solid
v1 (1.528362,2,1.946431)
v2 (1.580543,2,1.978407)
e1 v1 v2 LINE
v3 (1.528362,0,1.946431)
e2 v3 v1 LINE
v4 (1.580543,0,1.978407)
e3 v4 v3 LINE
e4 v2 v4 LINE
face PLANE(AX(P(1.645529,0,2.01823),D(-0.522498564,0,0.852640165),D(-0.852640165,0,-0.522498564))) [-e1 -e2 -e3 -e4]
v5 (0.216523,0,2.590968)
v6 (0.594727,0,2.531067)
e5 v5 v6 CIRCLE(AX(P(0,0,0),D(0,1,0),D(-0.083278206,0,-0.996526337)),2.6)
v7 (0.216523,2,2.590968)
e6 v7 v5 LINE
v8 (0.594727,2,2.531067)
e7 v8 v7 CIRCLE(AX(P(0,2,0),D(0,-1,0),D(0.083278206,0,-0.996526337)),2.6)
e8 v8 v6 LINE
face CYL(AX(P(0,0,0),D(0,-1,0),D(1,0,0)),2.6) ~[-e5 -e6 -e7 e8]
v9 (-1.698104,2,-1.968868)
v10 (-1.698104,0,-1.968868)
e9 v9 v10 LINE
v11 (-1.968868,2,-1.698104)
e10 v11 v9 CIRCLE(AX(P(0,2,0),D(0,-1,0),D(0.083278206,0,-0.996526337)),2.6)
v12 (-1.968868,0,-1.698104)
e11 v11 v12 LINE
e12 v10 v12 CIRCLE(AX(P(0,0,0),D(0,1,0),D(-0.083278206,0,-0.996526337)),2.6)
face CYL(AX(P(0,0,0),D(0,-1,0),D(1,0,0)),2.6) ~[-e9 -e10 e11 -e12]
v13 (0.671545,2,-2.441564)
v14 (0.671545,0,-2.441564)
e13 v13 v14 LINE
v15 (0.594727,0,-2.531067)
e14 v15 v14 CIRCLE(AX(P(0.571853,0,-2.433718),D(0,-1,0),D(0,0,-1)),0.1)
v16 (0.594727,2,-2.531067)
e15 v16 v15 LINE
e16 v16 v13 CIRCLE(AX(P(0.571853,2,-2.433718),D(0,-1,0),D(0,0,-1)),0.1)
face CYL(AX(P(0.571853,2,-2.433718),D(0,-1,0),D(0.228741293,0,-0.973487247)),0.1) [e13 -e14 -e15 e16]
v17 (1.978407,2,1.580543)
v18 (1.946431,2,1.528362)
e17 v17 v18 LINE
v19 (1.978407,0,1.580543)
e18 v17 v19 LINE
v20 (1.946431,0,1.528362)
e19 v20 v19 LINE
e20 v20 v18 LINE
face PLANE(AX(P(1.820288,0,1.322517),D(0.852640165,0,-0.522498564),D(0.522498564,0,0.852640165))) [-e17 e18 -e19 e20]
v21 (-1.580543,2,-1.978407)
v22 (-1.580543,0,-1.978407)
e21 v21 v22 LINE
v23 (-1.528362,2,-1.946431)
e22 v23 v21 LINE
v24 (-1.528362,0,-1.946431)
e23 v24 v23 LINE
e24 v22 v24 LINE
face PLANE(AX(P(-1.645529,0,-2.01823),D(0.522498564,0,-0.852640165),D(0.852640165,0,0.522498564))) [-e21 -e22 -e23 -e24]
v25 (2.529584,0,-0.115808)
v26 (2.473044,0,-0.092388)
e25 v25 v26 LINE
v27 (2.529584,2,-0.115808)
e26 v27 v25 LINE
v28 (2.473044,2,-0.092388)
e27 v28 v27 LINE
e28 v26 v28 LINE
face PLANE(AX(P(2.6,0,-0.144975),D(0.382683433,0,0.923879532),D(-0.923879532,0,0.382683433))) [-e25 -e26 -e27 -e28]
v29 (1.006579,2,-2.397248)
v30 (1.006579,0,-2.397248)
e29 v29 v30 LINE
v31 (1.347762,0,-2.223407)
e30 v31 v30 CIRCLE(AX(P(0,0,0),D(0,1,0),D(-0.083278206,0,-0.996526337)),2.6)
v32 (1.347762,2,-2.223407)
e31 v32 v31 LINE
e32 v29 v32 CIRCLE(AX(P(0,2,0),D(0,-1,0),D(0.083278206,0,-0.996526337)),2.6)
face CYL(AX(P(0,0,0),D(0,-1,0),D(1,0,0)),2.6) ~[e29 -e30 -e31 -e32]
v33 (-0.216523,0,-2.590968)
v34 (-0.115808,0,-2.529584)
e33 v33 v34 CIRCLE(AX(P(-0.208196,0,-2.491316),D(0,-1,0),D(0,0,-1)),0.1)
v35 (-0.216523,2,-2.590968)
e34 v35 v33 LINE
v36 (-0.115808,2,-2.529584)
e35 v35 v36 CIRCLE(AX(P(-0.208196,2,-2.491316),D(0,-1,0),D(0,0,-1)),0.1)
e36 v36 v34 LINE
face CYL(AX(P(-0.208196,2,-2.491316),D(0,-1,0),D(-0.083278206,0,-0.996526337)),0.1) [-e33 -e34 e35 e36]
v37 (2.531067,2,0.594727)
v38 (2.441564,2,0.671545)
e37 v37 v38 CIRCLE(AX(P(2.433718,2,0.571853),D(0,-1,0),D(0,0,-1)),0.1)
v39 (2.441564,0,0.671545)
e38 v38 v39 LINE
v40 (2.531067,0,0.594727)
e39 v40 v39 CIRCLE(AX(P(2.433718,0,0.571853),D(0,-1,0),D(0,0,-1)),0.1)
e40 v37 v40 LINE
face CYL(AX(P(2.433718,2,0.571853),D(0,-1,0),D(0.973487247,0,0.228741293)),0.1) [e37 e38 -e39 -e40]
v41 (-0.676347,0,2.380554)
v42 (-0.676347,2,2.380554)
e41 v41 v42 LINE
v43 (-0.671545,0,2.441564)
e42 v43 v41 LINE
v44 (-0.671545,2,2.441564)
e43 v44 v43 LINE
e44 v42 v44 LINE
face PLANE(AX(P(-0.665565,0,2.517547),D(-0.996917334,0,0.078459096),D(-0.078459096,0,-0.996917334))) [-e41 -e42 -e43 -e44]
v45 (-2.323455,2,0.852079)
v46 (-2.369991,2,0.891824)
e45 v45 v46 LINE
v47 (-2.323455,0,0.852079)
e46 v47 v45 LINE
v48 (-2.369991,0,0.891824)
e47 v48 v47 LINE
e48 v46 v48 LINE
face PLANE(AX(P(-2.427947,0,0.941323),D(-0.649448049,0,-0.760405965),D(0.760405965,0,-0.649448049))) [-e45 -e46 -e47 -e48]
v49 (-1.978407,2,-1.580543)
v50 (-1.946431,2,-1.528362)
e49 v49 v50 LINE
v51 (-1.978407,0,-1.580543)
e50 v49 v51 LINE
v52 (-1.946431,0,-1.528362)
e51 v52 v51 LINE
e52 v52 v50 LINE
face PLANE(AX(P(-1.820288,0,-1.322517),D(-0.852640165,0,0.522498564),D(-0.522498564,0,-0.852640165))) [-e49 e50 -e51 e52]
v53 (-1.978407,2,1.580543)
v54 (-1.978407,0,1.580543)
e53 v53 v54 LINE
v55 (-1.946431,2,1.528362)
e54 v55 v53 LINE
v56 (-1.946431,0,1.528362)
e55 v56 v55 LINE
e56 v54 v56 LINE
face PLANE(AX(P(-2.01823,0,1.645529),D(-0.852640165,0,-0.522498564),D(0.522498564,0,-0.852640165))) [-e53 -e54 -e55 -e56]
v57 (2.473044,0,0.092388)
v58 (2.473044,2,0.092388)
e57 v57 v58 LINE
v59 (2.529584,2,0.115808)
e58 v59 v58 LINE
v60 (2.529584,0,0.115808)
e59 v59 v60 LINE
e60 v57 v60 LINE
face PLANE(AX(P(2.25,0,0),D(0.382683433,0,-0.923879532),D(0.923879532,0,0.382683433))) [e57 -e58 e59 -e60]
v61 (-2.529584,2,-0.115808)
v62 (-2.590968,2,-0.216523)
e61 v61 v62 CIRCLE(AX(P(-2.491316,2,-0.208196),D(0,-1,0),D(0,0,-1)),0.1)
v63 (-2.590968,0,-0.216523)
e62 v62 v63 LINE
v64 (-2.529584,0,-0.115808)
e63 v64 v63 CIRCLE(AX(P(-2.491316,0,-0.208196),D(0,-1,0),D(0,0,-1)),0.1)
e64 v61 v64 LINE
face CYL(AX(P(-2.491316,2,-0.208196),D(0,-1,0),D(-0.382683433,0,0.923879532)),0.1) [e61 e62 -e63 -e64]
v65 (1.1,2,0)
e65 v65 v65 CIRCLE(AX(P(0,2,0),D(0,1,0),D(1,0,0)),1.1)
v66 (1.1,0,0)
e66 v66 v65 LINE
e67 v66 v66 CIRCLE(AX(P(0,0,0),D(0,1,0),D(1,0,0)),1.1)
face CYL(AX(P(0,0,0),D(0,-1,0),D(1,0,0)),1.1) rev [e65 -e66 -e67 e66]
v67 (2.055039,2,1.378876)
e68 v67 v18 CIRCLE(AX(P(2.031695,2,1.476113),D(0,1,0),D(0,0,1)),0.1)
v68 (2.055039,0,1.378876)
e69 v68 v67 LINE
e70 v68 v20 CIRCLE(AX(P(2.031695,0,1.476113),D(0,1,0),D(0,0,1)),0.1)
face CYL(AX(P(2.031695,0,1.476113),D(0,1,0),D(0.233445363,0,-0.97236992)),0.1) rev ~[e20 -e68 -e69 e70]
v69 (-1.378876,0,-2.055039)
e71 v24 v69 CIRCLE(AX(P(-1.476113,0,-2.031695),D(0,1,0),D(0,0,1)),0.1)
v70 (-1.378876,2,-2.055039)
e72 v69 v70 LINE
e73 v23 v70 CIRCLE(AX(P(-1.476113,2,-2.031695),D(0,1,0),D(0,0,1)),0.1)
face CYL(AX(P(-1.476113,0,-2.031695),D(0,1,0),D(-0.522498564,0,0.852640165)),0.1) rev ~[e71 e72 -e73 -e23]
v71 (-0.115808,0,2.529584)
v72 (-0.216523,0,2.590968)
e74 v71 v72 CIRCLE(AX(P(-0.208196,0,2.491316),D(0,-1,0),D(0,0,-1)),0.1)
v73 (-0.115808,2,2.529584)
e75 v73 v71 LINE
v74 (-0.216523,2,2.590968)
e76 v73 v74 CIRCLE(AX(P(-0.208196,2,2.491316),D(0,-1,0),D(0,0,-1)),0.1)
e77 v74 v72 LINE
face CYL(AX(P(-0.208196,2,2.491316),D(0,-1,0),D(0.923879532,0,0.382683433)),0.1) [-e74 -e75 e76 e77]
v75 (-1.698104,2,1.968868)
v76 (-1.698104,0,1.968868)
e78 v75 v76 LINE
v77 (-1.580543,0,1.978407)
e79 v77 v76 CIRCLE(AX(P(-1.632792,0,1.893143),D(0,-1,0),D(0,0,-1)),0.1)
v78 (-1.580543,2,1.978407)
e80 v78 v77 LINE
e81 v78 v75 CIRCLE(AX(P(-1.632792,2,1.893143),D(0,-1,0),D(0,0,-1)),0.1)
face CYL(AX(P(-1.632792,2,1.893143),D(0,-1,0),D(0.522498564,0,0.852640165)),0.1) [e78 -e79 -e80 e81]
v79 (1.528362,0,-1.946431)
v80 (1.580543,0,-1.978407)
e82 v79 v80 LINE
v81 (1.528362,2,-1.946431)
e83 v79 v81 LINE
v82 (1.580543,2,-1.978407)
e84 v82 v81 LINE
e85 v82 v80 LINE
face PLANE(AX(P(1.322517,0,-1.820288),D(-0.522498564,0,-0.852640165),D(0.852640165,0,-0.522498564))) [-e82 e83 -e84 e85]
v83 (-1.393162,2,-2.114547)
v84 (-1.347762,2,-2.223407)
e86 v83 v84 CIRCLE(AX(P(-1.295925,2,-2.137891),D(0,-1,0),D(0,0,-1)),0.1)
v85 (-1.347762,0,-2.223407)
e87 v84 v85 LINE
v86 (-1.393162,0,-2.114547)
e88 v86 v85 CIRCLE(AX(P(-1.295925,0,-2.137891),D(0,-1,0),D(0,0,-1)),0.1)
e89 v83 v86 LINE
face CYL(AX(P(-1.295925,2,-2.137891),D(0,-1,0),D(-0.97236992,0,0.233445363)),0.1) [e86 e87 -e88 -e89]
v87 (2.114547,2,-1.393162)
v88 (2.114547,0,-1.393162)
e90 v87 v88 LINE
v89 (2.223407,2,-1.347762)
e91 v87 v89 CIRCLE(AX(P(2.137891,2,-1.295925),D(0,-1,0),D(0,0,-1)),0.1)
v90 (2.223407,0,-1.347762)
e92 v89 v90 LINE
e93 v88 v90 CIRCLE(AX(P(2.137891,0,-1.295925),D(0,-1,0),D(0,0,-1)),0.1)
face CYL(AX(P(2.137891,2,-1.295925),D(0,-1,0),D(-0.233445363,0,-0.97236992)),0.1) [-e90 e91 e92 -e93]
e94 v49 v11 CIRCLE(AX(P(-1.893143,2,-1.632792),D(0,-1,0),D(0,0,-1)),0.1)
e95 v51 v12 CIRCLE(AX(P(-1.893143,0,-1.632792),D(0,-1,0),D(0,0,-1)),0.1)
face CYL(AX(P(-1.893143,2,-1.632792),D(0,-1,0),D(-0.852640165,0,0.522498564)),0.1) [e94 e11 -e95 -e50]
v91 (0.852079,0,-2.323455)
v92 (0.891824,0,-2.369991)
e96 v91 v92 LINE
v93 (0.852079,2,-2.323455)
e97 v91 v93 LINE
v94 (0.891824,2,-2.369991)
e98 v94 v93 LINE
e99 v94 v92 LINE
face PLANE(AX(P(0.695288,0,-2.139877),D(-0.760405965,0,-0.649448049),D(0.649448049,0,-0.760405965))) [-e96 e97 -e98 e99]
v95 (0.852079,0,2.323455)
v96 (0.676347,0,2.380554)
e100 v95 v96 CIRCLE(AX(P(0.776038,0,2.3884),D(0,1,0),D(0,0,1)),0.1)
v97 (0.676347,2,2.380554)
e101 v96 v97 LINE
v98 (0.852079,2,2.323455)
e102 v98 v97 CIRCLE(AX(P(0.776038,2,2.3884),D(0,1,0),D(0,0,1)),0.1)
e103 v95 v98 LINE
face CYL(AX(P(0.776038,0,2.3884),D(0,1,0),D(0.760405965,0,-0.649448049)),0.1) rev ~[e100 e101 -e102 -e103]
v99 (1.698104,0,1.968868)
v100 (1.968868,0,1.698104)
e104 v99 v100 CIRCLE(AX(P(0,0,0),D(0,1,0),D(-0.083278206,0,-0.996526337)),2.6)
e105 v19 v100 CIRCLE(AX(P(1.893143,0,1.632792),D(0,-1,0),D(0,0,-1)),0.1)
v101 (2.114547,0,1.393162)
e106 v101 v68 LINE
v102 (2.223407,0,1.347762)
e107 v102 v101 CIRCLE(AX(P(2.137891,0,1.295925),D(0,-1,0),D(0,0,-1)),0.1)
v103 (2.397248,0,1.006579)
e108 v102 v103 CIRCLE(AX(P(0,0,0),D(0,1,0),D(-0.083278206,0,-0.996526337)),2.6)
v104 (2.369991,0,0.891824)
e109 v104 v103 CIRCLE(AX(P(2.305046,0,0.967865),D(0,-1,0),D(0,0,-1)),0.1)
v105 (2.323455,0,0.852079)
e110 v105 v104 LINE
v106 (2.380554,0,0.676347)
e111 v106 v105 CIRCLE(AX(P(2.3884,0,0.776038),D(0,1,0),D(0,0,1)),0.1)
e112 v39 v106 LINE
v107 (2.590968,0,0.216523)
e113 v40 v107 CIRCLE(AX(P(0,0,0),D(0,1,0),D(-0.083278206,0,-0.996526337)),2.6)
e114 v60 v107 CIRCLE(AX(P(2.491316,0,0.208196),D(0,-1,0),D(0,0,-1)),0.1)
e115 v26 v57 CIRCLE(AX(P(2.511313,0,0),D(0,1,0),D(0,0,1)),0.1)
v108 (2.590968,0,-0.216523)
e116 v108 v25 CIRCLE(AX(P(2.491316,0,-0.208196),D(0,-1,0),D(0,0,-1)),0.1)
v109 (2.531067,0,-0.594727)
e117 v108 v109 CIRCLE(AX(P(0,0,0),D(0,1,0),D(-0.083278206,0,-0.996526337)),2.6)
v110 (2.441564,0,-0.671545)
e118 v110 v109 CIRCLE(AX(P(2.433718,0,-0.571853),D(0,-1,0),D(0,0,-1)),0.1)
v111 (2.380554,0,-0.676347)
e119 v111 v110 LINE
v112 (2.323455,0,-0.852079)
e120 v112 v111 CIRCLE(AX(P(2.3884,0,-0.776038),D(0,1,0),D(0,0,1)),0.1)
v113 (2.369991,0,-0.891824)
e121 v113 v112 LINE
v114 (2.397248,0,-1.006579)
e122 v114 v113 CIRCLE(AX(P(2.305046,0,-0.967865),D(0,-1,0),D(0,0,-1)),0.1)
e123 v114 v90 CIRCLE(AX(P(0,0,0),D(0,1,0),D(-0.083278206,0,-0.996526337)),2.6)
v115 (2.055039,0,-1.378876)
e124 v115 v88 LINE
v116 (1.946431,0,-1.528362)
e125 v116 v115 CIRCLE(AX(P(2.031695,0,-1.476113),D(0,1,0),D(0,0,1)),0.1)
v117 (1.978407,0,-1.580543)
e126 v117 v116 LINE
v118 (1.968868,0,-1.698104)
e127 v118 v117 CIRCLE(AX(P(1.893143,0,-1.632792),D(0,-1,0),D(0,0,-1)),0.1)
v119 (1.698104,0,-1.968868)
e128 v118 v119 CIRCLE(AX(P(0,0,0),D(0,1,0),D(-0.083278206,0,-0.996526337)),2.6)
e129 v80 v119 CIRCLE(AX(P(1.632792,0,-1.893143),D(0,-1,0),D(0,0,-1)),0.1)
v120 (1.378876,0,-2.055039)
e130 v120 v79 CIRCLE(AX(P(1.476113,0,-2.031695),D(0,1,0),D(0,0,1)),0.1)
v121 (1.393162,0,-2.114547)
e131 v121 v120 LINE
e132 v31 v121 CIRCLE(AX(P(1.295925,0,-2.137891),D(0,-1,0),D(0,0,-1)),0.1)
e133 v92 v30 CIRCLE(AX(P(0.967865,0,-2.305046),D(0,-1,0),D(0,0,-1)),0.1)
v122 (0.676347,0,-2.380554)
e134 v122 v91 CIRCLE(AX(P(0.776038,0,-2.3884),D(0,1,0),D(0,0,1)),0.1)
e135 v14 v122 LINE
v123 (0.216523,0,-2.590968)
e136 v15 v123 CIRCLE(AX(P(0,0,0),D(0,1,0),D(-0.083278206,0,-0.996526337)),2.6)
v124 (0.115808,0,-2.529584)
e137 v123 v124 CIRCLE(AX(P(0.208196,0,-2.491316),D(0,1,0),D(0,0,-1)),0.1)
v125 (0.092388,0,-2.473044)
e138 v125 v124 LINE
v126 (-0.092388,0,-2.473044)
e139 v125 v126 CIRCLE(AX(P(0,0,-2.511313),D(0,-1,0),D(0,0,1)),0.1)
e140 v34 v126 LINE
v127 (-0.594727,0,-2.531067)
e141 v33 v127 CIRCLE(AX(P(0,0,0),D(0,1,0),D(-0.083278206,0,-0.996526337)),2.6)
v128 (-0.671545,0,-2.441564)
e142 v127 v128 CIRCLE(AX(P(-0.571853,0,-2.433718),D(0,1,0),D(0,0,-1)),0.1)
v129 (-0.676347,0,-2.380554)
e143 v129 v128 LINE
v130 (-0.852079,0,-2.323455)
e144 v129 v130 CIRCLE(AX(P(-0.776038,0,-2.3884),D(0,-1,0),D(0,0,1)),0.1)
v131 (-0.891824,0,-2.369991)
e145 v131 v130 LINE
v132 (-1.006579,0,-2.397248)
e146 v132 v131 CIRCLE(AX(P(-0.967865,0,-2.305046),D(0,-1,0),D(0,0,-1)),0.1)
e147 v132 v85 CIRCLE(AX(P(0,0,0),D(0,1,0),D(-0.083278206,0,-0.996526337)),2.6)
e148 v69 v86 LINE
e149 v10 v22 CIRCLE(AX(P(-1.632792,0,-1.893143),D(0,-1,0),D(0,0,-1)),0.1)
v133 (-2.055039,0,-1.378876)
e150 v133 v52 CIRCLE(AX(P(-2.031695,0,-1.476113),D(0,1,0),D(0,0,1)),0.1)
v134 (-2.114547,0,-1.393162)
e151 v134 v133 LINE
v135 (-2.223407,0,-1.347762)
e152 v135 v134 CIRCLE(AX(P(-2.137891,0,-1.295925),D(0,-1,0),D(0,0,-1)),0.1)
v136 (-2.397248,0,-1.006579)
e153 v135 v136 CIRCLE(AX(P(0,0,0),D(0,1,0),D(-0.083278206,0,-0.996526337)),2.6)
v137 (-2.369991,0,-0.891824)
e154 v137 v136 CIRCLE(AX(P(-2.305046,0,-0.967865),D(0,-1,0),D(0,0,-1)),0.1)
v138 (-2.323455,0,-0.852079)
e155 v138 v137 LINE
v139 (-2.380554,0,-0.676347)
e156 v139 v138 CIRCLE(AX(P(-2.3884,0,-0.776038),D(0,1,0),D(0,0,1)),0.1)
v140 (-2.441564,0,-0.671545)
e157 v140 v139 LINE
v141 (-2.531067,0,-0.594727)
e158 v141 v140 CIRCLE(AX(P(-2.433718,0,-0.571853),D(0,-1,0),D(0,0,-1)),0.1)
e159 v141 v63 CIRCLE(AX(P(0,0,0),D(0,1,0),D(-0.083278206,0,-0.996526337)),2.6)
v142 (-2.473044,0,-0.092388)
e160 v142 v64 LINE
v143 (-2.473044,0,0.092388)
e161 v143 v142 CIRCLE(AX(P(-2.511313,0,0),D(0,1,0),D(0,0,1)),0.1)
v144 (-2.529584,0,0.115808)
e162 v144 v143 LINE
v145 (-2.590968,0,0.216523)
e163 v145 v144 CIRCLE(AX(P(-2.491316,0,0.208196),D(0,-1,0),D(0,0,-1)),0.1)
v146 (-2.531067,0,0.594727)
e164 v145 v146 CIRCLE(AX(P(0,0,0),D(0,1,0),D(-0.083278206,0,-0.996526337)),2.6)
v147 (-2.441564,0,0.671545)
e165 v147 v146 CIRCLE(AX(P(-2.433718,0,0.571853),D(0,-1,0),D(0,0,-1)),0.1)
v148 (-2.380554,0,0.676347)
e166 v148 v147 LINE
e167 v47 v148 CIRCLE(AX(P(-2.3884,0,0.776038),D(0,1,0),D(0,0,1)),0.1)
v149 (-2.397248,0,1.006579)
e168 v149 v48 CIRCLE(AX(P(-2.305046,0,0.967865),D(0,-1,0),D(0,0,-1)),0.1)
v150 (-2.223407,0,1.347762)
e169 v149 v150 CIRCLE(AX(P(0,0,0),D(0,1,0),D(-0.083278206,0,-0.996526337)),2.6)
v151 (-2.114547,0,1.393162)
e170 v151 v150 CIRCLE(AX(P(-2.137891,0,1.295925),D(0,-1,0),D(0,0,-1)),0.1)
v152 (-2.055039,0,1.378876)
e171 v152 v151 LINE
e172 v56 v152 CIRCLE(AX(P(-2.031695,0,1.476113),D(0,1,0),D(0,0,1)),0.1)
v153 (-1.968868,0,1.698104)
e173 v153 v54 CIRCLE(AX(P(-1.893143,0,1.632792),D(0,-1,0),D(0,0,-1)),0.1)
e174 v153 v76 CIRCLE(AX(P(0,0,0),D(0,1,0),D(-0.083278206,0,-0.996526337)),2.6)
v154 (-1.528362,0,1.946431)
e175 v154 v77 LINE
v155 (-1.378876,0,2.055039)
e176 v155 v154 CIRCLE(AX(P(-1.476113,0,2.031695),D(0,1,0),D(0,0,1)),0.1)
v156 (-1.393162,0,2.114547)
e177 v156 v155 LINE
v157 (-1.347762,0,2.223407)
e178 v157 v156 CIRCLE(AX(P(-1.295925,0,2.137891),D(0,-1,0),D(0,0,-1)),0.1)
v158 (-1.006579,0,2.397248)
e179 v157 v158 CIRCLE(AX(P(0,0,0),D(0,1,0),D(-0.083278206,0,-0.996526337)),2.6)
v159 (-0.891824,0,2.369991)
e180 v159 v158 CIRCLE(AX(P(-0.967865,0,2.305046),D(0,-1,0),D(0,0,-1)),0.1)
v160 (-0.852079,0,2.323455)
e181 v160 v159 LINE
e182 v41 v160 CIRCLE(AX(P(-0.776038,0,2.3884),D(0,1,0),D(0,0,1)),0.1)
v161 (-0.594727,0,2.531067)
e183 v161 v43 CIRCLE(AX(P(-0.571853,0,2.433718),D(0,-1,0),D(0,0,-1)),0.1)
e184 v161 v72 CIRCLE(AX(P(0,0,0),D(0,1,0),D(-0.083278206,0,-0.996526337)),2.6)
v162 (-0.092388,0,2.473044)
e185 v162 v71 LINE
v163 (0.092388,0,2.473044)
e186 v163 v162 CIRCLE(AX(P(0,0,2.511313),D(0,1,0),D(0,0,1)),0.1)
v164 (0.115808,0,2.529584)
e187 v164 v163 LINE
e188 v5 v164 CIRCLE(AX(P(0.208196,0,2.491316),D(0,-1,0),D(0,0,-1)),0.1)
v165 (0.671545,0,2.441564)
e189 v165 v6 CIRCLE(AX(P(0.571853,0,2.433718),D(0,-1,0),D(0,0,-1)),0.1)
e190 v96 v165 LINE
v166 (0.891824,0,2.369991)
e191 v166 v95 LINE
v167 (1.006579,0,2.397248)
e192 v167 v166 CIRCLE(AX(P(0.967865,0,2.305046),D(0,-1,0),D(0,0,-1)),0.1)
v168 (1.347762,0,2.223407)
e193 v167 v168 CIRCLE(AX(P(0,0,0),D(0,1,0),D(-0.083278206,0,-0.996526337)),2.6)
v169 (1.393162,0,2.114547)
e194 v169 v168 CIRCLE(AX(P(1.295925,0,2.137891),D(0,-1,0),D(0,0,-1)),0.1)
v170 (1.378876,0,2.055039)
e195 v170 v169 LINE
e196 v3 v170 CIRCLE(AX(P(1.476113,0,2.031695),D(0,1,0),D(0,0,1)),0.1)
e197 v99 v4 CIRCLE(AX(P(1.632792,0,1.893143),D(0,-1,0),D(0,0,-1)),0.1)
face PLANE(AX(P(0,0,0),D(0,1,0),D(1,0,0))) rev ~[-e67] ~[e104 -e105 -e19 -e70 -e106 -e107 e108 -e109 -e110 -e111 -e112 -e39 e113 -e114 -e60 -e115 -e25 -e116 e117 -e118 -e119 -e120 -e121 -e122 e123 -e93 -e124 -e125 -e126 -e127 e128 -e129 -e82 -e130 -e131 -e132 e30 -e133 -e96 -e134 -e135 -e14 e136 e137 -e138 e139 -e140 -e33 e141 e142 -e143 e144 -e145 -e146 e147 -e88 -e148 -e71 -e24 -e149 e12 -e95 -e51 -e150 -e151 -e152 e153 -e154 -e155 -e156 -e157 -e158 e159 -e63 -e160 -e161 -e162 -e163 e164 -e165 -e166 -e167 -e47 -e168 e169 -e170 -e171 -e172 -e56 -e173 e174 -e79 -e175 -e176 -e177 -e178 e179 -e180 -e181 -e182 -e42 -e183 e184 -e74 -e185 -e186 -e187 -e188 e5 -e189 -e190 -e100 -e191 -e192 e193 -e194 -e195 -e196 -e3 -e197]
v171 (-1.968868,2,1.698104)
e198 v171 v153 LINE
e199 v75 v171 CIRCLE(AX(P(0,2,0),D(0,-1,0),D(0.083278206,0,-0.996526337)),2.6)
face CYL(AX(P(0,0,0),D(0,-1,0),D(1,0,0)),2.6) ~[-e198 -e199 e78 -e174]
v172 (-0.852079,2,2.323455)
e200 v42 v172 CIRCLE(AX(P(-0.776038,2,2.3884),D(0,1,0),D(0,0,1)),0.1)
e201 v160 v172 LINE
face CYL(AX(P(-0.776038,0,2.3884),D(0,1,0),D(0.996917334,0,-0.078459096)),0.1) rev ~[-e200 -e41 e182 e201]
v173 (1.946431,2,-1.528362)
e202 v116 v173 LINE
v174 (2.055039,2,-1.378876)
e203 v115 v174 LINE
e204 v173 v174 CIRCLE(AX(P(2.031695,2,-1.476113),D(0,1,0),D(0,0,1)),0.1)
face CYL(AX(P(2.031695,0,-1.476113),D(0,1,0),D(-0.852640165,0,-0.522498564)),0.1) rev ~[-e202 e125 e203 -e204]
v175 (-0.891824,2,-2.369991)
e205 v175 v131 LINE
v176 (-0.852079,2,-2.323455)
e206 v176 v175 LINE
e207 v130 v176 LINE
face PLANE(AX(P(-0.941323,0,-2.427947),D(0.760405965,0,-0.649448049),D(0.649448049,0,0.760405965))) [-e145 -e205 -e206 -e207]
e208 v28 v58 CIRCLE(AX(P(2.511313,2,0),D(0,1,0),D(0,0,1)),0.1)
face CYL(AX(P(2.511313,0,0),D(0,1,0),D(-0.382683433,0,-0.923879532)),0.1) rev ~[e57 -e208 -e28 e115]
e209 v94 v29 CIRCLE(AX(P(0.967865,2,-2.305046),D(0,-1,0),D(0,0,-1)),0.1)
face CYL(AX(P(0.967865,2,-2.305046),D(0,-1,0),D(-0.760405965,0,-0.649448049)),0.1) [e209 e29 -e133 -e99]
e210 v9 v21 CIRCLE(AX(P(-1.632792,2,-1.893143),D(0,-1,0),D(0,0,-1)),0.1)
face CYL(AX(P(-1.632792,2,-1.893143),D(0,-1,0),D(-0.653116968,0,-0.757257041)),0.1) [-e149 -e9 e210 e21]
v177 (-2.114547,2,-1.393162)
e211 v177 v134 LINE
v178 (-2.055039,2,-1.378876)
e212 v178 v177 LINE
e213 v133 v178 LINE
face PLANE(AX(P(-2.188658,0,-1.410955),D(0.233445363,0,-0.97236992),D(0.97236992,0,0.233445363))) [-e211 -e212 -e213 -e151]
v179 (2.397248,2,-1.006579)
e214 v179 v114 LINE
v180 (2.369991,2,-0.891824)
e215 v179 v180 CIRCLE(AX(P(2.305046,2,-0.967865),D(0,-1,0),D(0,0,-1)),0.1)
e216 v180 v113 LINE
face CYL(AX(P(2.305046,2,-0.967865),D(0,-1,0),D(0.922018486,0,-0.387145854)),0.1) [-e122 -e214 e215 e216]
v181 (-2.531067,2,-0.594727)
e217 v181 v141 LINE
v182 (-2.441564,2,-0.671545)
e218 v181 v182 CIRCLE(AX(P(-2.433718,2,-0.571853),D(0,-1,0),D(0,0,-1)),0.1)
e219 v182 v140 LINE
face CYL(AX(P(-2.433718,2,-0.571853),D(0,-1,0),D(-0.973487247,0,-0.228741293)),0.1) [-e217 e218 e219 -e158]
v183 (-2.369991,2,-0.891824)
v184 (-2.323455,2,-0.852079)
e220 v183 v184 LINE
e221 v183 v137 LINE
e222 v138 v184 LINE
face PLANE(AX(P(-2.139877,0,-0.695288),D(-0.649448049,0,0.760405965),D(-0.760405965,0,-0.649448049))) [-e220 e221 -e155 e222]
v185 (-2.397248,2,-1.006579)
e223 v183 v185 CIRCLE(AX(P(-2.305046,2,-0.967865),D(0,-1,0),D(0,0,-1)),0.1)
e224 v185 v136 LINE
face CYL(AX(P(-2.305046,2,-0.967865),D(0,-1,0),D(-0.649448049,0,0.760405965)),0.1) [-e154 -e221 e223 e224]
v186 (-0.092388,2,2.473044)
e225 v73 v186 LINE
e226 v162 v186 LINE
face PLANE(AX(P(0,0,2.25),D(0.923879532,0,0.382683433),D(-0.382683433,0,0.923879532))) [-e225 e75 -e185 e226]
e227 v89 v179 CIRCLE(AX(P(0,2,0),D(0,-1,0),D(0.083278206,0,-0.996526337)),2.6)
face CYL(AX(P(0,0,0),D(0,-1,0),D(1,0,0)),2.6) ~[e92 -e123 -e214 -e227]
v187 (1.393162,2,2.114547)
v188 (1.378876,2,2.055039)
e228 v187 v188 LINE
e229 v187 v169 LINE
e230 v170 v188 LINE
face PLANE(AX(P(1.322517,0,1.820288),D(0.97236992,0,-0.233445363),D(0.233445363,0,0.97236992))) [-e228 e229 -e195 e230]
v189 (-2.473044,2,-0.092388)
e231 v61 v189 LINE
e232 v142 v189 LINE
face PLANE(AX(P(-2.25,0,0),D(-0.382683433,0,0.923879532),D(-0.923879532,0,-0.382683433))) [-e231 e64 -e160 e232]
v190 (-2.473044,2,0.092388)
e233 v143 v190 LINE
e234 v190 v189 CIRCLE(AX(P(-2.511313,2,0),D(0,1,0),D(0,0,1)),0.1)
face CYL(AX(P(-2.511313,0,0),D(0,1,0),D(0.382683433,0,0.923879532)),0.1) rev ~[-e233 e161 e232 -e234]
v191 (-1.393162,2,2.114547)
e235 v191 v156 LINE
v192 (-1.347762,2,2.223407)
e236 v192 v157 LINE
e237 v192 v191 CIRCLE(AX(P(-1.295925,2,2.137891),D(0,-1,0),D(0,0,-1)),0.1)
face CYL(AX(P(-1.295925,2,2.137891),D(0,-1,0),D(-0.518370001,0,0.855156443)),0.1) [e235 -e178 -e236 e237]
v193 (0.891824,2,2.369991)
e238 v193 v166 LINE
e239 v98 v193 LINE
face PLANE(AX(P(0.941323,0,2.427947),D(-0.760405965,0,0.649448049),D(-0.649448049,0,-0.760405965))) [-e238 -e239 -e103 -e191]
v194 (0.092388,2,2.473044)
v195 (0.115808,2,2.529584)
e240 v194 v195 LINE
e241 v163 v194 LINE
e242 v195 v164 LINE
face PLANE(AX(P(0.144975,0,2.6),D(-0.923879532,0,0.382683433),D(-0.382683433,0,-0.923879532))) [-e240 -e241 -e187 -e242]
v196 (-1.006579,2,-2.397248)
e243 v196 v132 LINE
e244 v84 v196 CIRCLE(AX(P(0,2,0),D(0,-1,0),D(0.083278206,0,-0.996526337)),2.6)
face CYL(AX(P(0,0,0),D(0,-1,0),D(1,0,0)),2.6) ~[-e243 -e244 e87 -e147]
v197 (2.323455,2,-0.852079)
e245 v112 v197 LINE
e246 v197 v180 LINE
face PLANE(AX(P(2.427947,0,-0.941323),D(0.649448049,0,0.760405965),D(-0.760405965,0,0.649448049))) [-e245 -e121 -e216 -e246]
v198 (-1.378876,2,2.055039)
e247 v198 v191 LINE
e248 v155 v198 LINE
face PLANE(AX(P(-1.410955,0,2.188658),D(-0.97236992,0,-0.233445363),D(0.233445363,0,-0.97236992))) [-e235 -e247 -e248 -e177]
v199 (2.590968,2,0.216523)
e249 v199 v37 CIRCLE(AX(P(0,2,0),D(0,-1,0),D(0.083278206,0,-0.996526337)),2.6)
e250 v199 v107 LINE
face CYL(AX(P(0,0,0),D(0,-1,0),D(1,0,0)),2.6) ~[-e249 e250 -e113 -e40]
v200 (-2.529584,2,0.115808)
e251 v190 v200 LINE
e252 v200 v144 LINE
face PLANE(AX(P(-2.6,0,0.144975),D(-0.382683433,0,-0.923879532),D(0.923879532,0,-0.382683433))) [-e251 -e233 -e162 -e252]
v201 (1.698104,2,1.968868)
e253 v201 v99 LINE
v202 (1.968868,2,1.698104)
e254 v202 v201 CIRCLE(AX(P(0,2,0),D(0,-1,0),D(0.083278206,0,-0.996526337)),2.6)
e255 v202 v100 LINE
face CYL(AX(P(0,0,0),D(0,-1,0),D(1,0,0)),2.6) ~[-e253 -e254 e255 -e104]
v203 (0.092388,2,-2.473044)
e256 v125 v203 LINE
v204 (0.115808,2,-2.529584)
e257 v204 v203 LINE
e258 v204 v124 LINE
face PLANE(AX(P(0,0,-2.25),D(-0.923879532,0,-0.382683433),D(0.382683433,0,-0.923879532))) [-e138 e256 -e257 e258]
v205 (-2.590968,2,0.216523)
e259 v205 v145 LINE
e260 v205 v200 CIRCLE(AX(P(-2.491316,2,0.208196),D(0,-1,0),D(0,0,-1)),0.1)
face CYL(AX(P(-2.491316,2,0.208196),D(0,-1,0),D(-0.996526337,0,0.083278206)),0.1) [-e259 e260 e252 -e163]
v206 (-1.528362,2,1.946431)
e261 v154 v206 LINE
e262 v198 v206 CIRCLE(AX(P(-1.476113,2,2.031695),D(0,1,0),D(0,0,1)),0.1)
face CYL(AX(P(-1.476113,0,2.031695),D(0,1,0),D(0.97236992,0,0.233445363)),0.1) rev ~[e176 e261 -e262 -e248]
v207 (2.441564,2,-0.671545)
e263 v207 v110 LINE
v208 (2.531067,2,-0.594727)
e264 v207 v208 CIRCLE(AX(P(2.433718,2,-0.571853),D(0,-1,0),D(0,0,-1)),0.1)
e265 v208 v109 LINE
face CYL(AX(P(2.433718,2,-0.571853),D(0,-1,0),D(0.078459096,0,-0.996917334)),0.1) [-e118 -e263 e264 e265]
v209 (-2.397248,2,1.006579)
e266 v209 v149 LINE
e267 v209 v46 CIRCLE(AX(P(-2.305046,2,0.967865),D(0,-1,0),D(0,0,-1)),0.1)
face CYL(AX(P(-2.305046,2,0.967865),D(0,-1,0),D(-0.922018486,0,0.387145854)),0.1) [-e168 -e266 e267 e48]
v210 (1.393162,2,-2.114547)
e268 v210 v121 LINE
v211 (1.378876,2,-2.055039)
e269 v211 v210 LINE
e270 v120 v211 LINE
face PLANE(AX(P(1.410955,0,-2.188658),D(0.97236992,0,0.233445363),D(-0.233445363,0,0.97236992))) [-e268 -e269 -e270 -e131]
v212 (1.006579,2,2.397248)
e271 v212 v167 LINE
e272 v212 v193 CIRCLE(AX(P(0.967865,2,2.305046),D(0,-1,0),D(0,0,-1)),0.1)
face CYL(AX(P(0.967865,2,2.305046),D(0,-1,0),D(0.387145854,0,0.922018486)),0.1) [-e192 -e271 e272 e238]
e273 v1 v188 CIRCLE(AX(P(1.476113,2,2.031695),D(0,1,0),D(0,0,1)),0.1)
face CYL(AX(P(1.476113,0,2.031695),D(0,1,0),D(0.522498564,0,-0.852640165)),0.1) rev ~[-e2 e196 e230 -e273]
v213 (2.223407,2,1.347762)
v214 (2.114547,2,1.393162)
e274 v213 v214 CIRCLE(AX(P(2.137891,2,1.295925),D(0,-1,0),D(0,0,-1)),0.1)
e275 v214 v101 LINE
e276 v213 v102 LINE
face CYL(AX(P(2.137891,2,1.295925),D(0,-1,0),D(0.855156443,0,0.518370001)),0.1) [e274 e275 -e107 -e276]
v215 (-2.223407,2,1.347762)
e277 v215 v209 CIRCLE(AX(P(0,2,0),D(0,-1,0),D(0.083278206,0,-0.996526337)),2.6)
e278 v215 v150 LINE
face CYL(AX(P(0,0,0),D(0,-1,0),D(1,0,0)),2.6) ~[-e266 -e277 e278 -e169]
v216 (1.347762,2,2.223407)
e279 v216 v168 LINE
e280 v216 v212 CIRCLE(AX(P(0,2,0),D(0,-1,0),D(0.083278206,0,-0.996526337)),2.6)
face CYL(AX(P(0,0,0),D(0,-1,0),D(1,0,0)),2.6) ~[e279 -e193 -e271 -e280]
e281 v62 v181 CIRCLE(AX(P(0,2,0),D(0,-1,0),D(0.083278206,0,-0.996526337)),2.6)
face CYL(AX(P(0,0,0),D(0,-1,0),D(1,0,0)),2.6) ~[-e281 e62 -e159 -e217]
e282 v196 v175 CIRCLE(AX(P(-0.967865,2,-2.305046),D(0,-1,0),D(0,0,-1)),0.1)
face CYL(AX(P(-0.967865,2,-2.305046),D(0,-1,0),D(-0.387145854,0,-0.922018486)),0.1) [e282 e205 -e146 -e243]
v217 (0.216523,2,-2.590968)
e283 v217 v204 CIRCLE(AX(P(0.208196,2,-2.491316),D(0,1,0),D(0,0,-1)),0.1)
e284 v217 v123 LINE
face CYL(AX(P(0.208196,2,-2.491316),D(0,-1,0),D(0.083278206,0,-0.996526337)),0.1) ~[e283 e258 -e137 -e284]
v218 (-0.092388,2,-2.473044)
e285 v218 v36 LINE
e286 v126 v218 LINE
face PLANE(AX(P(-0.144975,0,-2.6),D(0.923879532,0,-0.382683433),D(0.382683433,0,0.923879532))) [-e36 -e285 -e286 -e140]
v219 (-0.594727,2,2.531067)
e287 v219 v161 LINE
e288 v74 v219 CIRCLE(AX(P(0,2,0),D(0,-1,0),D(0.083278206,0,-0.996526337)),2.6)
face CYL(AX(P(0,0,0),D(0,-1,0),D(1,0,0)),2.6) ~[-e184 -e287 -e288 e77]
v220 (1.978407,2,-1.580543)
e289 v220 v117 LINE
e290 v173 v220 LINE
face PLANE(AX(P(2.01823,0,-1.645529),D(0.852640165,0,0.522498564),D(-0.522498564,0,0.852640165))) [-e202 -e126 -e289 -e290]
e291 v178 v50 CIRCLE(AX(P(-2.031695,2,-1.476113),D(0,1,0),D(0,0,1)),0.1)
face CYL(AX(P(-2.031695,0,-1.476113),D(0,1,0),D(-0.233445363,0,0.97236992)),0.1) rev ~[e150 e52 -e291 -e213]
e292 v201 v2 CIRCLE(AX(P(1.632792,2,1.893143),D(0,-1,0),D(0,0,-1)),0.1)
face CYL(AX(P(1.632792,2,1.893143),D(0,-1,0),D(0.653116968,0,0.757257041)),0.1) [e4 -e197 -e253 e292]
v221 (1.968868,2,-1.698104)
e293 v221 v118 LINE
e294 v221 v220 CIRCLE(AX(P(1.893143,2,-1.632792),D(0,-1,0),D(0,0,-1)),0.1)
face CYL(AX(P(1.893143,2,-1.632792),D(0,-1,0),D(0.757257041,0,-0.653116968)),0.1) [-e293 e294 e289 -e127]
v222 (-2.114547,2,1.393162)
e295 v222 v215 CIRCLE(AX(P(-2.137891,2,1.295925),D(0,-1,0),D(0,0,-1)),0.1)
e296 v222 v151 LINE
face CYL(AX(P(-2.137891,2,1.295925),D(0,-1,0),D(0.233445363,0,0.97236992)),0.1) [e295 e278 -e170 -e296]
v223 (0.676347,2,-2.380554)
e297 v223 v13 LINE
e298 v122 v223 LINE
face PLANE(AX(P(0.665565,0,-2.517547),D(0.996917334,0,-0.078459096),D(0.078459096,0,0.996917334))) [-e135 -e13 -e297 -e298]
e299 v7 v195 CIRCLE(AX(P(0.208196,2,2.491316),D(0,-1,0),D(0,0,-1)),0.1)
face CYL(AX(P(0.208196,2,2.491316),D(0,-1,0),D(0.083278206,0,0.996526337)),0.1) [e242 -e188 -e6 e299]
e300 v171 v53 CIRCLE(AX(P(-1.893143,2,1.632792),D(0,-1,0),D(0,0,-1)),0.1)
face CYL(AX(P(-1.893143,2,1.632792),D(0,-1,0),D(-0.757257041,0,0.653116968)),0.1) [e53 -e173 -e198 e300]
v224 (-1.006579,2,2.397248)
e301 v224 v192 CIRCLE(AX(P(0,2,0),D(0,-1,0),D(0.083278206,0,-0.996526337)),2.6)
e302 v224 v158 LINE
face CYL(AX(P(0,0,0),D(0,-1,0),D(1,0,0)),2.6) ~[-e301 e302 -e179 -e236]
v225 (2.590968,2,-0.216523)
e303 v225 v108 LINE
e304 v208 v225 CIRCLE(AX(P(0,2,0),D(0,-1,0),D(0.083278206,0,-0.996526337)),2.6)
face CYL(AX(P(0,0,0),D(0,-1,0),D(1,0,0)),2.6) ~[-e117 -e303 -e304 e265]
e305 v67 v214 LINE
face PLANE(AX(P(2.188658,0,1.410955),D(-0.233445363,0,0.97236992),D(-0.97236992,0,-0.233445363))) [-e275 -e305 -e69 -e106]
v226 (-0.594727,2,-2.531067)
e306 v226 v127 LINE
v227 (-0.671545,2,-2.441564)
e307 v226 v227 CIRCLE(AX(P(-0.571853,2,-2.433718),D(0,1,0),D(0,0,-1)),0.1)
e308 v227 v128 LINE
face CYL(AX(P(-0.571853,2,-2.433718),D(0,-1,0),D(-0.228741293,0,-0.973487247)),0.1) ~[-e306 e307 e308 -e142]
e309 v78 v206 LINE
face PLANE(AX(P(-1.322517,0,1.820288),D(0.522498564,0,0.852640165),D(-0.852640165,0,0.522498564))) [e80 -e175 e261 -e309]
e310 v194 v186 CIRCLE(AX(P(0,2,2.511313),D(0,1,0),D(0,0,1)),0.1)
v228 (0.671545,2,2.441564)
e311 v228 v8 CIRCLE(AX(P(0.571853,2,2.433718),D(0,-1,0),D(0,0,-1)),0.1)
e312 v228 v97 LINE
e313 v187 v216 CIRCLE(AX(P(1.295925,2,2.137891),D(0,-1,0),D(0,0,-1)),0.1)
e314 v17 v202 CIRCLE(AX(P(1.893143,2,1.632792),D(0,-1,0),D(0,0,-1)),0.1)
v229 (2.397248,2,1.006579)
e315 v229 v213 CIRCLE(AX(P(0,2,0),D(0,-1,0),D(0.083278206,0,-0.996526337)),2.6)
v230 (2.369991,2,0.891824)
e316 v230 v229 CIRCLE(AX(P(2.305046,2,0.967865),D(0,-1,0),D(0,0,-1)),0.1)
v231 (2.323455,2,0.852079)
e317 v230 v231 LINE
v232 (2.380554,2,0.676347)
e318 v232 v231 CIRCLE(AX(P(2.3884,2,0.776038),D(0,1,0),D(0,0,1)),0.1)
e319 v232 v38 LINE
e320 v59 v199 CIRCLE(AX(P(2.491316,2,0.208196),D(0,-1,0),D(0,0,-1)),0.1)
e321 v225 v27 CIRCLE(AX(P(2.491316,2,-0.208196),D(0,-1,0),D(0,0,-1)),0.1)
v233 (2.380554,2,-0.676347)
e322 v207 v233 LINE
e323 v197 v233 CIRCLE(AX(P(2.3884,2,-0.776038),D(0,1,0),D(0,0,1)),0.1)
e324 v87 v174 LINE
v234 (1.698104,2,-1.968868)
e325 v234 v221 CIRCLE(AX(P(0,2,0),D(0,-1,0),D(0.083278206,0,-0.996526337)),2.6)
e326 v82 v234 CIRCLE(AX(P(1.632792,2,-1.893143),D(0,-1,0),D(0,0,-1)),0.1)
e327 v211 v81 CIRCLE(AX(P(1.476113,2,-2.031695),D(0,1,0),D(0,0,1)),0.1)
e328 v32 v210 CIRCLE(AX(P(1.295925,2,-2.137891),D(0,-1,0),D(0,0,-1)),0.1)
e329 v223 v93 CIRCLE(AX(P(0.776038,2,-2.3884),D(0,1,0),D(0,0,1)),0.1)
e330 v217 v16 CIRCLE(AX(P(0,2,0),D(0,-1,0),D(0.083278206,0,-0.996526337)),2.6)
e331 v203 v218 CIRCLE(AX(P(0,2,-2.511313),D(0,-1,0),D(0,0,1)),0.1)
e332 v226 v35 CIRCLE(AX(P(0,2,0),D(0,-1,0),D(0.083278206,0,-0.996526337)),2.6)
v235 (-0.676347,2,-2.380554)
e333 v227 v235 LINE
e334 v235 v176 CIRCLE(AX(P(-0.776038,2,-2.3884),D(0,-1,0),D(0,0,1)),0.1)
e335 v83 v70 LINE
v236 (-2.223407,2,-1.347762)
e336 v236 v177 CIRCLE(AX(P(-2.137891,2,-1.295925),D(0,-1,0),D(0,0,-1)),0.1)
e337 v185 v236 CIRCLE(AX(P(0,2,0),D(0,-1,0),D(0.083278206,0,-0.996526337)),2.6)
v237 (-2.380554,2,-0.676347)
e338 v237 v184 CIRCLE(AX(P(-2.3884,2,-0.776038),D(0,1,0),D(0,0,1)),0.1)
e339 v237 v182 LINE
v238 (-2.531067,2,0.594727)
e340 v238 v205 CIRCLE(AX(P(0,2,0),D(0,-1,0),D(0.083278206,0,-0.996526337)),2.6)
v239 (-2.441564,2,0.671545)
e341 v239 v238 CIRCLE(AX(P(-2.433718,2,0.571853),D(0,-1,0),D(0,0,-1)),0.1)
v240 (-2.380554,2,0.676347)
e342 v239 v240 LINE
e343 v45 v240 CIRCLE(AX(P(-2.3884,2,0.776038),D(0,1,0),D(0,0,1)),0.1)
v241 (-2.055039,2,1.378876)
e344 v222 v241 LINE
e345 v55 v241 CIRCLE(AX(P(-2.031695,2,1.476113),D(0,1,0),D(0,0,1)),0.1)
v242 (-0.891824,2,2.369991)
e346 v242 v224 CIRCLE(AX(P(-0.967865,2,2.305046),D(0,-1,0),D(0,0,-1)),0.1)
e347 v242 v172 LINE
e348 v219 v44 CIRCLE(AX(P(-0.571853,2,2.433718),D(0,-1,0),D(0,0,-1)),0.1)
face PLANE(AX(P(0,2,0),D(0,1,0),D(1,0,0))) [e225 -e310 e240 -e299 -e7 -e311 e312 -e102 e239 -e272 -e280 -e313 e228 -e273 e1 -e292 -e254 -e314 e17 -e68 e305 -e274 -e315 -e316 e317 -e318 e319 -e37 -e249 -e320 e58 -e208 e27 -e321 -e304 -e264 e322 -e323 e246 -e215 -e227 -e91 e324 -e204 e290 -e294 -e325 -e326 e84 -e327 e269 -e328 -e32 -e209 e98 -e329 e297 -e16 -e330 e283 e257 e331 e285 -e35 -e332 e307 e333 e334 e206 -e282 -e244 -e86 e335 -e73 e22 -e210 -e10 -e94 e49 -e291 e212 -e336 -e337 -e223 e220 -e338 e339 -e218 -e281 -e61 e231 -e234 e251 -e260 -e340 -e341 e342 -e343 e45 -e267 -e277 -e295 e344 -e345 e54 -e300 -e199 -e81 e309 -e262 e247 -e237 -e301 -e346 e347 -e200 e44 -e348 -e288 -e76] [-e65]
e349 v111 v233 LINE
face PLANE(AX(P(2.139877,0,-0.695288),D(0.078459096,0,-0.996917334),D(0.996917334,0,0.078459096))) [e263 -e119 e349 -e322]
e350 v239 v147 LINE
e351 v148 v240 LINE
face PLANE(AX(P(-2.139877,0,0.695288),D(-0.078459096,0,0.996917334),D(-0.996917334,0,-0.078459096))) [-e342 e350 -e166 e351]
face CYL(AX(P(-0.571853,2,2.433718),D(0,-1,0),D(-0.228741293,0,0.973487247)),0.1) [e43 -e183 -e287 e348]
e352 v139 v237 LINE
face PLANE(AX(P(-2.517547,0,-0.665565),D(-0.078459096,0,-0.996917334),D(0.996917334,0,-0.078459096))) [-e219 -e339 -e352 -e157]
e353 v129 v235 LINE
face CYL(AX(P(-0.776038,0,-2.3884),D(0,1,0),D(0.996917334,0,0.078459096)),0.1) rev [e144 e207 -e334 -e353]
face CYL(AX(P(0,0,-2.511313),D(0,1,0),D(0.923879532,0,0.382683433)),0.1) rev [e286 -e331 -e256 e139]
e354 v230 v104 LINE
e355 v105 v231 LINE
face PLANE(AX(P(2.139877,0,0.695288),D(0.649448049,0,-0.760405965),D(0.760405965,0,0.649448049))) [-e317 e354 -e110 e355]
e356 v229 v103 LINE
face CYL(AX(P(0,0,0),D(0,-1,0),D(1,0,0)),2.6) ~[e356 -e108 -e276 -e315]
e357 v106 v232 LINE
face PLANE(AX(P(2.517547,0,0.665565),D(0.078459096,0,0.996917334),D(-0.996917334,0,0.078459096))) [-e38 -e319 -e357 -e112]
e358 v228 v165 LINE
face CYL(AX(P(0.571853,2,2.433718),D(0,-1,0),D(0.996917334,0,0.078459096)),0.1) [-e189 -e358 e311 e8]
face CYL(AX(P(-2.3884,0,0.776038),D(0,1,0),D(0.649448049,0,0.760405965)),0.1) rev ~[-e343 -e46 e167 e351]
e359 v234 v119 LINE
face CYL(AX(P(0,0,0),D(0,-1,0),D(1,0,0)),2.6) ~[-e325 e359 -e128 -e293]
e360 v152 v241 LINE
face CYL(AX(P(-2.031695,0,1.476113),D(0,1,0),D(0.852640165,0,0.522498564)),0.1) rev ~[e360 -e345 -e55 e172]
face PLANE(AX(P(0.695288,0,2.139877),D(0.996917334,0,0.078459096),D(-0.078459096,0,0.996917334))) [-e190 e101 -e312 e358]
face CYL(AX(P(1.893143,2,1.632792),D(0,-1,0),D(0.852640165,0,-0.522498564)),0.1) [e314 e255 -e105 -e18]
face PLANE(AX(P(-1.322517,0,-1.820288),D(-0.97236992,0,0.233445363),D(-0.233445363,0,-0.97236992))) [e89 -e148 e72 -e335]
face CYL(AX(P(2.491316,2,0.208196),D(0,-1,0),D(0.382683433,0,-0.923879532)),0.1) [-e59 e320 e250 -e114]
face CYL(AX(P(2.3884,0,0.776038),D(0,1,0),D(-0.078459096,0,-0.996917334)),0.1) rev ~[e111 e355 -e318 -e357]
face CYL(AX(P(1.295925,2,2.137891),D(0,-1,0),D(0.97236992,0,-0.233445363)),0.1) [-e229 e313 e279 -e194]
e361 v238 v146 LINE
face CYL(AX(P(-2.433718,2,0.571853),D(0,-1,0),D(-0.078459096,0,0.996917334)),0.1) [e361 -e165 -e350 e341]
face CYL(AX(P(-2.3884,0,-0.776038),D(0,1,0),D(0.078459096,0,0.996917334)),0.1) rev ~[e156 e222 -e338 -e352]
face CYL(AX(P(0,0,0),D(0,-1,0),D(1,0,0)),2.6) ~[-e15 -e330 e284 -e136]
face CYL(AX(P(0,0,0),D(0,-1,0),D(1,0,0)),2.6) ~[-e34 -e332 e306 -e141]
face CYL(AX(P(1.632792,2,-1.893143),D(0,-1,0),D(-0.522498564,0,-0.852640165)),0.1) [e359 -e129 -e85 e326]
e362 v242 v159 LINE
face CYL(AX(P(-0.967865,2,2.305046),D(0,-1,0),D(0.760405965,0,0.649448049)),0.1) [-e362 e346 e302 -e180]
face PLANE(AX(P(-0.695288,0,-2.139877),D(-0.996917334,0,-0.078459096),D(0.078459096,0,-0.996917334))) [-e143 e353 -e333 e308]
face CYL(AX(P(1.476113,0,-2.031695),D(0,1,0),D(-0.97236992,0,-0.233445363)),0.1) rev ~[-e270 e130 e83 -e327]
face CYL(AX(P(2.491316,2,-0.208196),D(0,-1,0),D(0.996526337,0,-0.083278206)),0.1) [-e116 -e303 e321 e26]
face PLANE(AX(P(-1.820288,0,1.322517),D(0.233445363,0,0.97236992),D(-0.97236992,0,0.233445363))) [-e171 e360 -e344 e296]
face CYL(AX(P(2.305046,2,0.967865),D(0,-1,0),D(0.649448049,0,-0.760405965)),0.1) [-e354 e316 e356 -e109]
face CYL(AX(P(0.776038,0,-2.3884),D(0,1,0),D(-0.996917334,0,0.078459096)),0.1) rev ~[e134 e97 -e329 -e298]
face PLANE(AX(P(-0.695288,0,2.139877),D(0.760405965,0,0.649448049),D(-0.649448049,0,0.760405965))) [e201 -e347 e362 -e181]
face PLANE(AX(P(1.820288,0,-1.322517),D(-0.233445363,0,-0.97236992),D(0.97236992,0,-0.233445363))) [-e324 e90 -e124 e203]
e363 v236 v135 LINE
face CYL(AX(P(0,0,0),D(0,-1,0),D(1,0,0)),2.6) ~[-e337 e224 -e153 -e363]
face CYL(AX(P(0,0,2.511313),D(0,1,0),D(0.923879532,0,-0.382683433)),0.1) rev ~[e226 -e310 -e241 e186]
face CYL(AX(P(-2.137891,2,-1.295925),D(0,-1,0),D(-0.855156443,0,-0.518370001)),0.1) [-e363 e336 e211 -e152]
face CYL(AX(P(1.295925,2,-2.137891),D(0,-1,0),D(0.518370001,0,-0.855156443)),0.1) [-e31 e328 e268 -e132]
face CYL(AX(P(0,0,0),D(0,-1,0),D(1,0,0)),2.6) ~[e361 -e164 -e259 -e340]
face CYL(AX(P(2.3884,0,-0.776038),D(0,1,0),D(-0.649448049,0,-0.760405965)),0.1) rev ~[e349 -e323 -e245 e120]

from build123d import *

# Parameters (mm, degrees)
SKETCH1_R                = 2.6
SKETCH1_R_2              = 1.1
BOSS_EXTRUDE1_DEPTH      = 2
CUT_EXTRUDE1_DEPTH       = 3
FILLET2_R                = 0.1
CIRPATTERN1_COUNT        = 20
FILLET2_OF_CIRPATTERN1_R = 0.1


with BuildPart() as part:
    # Sketch1 → Boss-Extrude1 (new body)
    with BuildSketch(Plane(origin=(0, 0, 0), x_dir=(1, 0, 0), z_dir=(0, 1, 0))):
        Circle(SKETCH1_R)
        Circle(SKETCH1_R_2, mode=Mode.SUBTRACT)
    extrude(amount=BOSS_EXTRUDE1_DEPTH)

    # Sketch2 → Cut-Extrude1 (cut, through all)
    with BuildSketch(Plane(origin=(0, 0, 0), x_dir=(1, 0, 0), z_dir=(0, 1, 0))):
        Polygon((-0.144974747, 2.6), (0, 2.25), (0.144974747, 2.6), align=None)
    cut_extrude1 = extrude(amount=CUT_EXTRUDE1_DEPTH, mode=Mode.SUBTRACT)

    # Fillet2
    fillet2_edges = [part.edges().sort_by_distance(p)[0] for p in [
        (0.143336922, 1, -2.596045941),
        (-0.143336922, 1, -2.596045941),
        (0, 1, -2.25),
    ]]
    fillet(fillet2_edges, radius=FILLET2_R)

    # CirPattern1: Cut-Extrude1 ×20 about axis
    cirpattern1_axis = Axis((0, 0, 0), (0, 1, 0))
    for i in range(1, CIRPATTERN1_COUNT):
        add(cut_extrude1.rotate(cirpattern1_axis, i * 360 / CIRPATTERN1_COUNT), mode=Mode.SUBTRACT)

    # Fillet2 of CirPattern1
    fillet2_of_cirpattern1_edges = [part.edges().sort_by_distance(p)[0] for p in [
        (-0.6659008, 1, -2.513279953),
        (-0.938543827, 1, -2.424692864),
        (-0.695288237, 1, -2.139877162),
        (-1.409955513, 1, -2.184496613),
        (-1.641879524, 1, -2.015993956),
        (-1.322516818, 1, -1.820288237),
        (-2.015993956, 1, -1.641879524),
        (-2.184496613, 1, -1.409955513),
        (-1.820288237, 1, -1.322516818),
        (-2.424692864, 1, -0.938543827),
        (-2.513279953, 1, -0.6659008),
        (-2.139877162, 1, -0.695288237),
        (-2.596045941, 1, -0.143336922),
        (-2.596045941, 1, 0.143336922),
        (-2.25, 1, 0),
        (-2.513279953, 1, 0.6659008),
        (-2.424692864, 1, 0.938543827),
        (-2.139877162, 1, 0.695288237),
        (-2.184496613, 1, 1.409955513),
        (-2.015993956, 1, 1.641879524),
        (-1.820288237, 1, 1.322516818),
        (-1.641879524, 1, 2.015993956),
        (-1.409955513, 1, 2.184496613),
        (-1.322516818, 1, 1.820288237),
        (-0.938543827, 1, 2.424692864),
        (-0.6659008, 1, 2.513279953),
        (-0.695288237, 1, 2.139877162),
        (-0.143336922, 1, 2.596045941),
        (0.143336922, 1, 2.596045941),
        (0, 1, 2.25),
        (0.6659008, 1, 2.513279953),
        (0.938543827, 1, 2.424692864),
        (0.695288237, 1, 2.139877162),
        (1.409955513, 1, 2.184496613),
        (1.641879524, 1, 2.015993956),
        (1.322516818, 1, 1.820288237),
        (2.015993956, 1, 1.641879524),
        (2.184496613, 1, 1.409955513),
        (1.820288237, 1, 1.322516818),
        (2.424692864, 1, 0.938543827),
        (2.513279953, 1, 0.6659008),
        (2.139877162, 1, 0.695288237),
        (2.596045941, 1, 0.143336922),
        (2.596045941, 1, -0.143336922),
        (2.25, 1, 0),
        (2.513279953, 1, -0.6659008),
        (2.424692864, 1, -0.938543827),
        (2.139877162, 1, -0.695288237),
        (2.184496613, 1, -1.409955513),
        (2.015993956, 1, -1.641879524),
        (1.820288237, 1, -1.322516818),
        (1.641879524, 1, -2.015993956),
        (1.409955513, 1, -2.184496613),
        (1.322516818, 1, -1.820288237),
        (0.938543827, 1, -2.424692864),
        (0.6659008, 1, -2.513279953),
        (0.695288237, 1, -2.139877162),
    ]]
    fillet(fillet2_of_cirpattern1_edges, radius=FILLET2_OF_CIRPATTERN1_R)


solid = part.part
